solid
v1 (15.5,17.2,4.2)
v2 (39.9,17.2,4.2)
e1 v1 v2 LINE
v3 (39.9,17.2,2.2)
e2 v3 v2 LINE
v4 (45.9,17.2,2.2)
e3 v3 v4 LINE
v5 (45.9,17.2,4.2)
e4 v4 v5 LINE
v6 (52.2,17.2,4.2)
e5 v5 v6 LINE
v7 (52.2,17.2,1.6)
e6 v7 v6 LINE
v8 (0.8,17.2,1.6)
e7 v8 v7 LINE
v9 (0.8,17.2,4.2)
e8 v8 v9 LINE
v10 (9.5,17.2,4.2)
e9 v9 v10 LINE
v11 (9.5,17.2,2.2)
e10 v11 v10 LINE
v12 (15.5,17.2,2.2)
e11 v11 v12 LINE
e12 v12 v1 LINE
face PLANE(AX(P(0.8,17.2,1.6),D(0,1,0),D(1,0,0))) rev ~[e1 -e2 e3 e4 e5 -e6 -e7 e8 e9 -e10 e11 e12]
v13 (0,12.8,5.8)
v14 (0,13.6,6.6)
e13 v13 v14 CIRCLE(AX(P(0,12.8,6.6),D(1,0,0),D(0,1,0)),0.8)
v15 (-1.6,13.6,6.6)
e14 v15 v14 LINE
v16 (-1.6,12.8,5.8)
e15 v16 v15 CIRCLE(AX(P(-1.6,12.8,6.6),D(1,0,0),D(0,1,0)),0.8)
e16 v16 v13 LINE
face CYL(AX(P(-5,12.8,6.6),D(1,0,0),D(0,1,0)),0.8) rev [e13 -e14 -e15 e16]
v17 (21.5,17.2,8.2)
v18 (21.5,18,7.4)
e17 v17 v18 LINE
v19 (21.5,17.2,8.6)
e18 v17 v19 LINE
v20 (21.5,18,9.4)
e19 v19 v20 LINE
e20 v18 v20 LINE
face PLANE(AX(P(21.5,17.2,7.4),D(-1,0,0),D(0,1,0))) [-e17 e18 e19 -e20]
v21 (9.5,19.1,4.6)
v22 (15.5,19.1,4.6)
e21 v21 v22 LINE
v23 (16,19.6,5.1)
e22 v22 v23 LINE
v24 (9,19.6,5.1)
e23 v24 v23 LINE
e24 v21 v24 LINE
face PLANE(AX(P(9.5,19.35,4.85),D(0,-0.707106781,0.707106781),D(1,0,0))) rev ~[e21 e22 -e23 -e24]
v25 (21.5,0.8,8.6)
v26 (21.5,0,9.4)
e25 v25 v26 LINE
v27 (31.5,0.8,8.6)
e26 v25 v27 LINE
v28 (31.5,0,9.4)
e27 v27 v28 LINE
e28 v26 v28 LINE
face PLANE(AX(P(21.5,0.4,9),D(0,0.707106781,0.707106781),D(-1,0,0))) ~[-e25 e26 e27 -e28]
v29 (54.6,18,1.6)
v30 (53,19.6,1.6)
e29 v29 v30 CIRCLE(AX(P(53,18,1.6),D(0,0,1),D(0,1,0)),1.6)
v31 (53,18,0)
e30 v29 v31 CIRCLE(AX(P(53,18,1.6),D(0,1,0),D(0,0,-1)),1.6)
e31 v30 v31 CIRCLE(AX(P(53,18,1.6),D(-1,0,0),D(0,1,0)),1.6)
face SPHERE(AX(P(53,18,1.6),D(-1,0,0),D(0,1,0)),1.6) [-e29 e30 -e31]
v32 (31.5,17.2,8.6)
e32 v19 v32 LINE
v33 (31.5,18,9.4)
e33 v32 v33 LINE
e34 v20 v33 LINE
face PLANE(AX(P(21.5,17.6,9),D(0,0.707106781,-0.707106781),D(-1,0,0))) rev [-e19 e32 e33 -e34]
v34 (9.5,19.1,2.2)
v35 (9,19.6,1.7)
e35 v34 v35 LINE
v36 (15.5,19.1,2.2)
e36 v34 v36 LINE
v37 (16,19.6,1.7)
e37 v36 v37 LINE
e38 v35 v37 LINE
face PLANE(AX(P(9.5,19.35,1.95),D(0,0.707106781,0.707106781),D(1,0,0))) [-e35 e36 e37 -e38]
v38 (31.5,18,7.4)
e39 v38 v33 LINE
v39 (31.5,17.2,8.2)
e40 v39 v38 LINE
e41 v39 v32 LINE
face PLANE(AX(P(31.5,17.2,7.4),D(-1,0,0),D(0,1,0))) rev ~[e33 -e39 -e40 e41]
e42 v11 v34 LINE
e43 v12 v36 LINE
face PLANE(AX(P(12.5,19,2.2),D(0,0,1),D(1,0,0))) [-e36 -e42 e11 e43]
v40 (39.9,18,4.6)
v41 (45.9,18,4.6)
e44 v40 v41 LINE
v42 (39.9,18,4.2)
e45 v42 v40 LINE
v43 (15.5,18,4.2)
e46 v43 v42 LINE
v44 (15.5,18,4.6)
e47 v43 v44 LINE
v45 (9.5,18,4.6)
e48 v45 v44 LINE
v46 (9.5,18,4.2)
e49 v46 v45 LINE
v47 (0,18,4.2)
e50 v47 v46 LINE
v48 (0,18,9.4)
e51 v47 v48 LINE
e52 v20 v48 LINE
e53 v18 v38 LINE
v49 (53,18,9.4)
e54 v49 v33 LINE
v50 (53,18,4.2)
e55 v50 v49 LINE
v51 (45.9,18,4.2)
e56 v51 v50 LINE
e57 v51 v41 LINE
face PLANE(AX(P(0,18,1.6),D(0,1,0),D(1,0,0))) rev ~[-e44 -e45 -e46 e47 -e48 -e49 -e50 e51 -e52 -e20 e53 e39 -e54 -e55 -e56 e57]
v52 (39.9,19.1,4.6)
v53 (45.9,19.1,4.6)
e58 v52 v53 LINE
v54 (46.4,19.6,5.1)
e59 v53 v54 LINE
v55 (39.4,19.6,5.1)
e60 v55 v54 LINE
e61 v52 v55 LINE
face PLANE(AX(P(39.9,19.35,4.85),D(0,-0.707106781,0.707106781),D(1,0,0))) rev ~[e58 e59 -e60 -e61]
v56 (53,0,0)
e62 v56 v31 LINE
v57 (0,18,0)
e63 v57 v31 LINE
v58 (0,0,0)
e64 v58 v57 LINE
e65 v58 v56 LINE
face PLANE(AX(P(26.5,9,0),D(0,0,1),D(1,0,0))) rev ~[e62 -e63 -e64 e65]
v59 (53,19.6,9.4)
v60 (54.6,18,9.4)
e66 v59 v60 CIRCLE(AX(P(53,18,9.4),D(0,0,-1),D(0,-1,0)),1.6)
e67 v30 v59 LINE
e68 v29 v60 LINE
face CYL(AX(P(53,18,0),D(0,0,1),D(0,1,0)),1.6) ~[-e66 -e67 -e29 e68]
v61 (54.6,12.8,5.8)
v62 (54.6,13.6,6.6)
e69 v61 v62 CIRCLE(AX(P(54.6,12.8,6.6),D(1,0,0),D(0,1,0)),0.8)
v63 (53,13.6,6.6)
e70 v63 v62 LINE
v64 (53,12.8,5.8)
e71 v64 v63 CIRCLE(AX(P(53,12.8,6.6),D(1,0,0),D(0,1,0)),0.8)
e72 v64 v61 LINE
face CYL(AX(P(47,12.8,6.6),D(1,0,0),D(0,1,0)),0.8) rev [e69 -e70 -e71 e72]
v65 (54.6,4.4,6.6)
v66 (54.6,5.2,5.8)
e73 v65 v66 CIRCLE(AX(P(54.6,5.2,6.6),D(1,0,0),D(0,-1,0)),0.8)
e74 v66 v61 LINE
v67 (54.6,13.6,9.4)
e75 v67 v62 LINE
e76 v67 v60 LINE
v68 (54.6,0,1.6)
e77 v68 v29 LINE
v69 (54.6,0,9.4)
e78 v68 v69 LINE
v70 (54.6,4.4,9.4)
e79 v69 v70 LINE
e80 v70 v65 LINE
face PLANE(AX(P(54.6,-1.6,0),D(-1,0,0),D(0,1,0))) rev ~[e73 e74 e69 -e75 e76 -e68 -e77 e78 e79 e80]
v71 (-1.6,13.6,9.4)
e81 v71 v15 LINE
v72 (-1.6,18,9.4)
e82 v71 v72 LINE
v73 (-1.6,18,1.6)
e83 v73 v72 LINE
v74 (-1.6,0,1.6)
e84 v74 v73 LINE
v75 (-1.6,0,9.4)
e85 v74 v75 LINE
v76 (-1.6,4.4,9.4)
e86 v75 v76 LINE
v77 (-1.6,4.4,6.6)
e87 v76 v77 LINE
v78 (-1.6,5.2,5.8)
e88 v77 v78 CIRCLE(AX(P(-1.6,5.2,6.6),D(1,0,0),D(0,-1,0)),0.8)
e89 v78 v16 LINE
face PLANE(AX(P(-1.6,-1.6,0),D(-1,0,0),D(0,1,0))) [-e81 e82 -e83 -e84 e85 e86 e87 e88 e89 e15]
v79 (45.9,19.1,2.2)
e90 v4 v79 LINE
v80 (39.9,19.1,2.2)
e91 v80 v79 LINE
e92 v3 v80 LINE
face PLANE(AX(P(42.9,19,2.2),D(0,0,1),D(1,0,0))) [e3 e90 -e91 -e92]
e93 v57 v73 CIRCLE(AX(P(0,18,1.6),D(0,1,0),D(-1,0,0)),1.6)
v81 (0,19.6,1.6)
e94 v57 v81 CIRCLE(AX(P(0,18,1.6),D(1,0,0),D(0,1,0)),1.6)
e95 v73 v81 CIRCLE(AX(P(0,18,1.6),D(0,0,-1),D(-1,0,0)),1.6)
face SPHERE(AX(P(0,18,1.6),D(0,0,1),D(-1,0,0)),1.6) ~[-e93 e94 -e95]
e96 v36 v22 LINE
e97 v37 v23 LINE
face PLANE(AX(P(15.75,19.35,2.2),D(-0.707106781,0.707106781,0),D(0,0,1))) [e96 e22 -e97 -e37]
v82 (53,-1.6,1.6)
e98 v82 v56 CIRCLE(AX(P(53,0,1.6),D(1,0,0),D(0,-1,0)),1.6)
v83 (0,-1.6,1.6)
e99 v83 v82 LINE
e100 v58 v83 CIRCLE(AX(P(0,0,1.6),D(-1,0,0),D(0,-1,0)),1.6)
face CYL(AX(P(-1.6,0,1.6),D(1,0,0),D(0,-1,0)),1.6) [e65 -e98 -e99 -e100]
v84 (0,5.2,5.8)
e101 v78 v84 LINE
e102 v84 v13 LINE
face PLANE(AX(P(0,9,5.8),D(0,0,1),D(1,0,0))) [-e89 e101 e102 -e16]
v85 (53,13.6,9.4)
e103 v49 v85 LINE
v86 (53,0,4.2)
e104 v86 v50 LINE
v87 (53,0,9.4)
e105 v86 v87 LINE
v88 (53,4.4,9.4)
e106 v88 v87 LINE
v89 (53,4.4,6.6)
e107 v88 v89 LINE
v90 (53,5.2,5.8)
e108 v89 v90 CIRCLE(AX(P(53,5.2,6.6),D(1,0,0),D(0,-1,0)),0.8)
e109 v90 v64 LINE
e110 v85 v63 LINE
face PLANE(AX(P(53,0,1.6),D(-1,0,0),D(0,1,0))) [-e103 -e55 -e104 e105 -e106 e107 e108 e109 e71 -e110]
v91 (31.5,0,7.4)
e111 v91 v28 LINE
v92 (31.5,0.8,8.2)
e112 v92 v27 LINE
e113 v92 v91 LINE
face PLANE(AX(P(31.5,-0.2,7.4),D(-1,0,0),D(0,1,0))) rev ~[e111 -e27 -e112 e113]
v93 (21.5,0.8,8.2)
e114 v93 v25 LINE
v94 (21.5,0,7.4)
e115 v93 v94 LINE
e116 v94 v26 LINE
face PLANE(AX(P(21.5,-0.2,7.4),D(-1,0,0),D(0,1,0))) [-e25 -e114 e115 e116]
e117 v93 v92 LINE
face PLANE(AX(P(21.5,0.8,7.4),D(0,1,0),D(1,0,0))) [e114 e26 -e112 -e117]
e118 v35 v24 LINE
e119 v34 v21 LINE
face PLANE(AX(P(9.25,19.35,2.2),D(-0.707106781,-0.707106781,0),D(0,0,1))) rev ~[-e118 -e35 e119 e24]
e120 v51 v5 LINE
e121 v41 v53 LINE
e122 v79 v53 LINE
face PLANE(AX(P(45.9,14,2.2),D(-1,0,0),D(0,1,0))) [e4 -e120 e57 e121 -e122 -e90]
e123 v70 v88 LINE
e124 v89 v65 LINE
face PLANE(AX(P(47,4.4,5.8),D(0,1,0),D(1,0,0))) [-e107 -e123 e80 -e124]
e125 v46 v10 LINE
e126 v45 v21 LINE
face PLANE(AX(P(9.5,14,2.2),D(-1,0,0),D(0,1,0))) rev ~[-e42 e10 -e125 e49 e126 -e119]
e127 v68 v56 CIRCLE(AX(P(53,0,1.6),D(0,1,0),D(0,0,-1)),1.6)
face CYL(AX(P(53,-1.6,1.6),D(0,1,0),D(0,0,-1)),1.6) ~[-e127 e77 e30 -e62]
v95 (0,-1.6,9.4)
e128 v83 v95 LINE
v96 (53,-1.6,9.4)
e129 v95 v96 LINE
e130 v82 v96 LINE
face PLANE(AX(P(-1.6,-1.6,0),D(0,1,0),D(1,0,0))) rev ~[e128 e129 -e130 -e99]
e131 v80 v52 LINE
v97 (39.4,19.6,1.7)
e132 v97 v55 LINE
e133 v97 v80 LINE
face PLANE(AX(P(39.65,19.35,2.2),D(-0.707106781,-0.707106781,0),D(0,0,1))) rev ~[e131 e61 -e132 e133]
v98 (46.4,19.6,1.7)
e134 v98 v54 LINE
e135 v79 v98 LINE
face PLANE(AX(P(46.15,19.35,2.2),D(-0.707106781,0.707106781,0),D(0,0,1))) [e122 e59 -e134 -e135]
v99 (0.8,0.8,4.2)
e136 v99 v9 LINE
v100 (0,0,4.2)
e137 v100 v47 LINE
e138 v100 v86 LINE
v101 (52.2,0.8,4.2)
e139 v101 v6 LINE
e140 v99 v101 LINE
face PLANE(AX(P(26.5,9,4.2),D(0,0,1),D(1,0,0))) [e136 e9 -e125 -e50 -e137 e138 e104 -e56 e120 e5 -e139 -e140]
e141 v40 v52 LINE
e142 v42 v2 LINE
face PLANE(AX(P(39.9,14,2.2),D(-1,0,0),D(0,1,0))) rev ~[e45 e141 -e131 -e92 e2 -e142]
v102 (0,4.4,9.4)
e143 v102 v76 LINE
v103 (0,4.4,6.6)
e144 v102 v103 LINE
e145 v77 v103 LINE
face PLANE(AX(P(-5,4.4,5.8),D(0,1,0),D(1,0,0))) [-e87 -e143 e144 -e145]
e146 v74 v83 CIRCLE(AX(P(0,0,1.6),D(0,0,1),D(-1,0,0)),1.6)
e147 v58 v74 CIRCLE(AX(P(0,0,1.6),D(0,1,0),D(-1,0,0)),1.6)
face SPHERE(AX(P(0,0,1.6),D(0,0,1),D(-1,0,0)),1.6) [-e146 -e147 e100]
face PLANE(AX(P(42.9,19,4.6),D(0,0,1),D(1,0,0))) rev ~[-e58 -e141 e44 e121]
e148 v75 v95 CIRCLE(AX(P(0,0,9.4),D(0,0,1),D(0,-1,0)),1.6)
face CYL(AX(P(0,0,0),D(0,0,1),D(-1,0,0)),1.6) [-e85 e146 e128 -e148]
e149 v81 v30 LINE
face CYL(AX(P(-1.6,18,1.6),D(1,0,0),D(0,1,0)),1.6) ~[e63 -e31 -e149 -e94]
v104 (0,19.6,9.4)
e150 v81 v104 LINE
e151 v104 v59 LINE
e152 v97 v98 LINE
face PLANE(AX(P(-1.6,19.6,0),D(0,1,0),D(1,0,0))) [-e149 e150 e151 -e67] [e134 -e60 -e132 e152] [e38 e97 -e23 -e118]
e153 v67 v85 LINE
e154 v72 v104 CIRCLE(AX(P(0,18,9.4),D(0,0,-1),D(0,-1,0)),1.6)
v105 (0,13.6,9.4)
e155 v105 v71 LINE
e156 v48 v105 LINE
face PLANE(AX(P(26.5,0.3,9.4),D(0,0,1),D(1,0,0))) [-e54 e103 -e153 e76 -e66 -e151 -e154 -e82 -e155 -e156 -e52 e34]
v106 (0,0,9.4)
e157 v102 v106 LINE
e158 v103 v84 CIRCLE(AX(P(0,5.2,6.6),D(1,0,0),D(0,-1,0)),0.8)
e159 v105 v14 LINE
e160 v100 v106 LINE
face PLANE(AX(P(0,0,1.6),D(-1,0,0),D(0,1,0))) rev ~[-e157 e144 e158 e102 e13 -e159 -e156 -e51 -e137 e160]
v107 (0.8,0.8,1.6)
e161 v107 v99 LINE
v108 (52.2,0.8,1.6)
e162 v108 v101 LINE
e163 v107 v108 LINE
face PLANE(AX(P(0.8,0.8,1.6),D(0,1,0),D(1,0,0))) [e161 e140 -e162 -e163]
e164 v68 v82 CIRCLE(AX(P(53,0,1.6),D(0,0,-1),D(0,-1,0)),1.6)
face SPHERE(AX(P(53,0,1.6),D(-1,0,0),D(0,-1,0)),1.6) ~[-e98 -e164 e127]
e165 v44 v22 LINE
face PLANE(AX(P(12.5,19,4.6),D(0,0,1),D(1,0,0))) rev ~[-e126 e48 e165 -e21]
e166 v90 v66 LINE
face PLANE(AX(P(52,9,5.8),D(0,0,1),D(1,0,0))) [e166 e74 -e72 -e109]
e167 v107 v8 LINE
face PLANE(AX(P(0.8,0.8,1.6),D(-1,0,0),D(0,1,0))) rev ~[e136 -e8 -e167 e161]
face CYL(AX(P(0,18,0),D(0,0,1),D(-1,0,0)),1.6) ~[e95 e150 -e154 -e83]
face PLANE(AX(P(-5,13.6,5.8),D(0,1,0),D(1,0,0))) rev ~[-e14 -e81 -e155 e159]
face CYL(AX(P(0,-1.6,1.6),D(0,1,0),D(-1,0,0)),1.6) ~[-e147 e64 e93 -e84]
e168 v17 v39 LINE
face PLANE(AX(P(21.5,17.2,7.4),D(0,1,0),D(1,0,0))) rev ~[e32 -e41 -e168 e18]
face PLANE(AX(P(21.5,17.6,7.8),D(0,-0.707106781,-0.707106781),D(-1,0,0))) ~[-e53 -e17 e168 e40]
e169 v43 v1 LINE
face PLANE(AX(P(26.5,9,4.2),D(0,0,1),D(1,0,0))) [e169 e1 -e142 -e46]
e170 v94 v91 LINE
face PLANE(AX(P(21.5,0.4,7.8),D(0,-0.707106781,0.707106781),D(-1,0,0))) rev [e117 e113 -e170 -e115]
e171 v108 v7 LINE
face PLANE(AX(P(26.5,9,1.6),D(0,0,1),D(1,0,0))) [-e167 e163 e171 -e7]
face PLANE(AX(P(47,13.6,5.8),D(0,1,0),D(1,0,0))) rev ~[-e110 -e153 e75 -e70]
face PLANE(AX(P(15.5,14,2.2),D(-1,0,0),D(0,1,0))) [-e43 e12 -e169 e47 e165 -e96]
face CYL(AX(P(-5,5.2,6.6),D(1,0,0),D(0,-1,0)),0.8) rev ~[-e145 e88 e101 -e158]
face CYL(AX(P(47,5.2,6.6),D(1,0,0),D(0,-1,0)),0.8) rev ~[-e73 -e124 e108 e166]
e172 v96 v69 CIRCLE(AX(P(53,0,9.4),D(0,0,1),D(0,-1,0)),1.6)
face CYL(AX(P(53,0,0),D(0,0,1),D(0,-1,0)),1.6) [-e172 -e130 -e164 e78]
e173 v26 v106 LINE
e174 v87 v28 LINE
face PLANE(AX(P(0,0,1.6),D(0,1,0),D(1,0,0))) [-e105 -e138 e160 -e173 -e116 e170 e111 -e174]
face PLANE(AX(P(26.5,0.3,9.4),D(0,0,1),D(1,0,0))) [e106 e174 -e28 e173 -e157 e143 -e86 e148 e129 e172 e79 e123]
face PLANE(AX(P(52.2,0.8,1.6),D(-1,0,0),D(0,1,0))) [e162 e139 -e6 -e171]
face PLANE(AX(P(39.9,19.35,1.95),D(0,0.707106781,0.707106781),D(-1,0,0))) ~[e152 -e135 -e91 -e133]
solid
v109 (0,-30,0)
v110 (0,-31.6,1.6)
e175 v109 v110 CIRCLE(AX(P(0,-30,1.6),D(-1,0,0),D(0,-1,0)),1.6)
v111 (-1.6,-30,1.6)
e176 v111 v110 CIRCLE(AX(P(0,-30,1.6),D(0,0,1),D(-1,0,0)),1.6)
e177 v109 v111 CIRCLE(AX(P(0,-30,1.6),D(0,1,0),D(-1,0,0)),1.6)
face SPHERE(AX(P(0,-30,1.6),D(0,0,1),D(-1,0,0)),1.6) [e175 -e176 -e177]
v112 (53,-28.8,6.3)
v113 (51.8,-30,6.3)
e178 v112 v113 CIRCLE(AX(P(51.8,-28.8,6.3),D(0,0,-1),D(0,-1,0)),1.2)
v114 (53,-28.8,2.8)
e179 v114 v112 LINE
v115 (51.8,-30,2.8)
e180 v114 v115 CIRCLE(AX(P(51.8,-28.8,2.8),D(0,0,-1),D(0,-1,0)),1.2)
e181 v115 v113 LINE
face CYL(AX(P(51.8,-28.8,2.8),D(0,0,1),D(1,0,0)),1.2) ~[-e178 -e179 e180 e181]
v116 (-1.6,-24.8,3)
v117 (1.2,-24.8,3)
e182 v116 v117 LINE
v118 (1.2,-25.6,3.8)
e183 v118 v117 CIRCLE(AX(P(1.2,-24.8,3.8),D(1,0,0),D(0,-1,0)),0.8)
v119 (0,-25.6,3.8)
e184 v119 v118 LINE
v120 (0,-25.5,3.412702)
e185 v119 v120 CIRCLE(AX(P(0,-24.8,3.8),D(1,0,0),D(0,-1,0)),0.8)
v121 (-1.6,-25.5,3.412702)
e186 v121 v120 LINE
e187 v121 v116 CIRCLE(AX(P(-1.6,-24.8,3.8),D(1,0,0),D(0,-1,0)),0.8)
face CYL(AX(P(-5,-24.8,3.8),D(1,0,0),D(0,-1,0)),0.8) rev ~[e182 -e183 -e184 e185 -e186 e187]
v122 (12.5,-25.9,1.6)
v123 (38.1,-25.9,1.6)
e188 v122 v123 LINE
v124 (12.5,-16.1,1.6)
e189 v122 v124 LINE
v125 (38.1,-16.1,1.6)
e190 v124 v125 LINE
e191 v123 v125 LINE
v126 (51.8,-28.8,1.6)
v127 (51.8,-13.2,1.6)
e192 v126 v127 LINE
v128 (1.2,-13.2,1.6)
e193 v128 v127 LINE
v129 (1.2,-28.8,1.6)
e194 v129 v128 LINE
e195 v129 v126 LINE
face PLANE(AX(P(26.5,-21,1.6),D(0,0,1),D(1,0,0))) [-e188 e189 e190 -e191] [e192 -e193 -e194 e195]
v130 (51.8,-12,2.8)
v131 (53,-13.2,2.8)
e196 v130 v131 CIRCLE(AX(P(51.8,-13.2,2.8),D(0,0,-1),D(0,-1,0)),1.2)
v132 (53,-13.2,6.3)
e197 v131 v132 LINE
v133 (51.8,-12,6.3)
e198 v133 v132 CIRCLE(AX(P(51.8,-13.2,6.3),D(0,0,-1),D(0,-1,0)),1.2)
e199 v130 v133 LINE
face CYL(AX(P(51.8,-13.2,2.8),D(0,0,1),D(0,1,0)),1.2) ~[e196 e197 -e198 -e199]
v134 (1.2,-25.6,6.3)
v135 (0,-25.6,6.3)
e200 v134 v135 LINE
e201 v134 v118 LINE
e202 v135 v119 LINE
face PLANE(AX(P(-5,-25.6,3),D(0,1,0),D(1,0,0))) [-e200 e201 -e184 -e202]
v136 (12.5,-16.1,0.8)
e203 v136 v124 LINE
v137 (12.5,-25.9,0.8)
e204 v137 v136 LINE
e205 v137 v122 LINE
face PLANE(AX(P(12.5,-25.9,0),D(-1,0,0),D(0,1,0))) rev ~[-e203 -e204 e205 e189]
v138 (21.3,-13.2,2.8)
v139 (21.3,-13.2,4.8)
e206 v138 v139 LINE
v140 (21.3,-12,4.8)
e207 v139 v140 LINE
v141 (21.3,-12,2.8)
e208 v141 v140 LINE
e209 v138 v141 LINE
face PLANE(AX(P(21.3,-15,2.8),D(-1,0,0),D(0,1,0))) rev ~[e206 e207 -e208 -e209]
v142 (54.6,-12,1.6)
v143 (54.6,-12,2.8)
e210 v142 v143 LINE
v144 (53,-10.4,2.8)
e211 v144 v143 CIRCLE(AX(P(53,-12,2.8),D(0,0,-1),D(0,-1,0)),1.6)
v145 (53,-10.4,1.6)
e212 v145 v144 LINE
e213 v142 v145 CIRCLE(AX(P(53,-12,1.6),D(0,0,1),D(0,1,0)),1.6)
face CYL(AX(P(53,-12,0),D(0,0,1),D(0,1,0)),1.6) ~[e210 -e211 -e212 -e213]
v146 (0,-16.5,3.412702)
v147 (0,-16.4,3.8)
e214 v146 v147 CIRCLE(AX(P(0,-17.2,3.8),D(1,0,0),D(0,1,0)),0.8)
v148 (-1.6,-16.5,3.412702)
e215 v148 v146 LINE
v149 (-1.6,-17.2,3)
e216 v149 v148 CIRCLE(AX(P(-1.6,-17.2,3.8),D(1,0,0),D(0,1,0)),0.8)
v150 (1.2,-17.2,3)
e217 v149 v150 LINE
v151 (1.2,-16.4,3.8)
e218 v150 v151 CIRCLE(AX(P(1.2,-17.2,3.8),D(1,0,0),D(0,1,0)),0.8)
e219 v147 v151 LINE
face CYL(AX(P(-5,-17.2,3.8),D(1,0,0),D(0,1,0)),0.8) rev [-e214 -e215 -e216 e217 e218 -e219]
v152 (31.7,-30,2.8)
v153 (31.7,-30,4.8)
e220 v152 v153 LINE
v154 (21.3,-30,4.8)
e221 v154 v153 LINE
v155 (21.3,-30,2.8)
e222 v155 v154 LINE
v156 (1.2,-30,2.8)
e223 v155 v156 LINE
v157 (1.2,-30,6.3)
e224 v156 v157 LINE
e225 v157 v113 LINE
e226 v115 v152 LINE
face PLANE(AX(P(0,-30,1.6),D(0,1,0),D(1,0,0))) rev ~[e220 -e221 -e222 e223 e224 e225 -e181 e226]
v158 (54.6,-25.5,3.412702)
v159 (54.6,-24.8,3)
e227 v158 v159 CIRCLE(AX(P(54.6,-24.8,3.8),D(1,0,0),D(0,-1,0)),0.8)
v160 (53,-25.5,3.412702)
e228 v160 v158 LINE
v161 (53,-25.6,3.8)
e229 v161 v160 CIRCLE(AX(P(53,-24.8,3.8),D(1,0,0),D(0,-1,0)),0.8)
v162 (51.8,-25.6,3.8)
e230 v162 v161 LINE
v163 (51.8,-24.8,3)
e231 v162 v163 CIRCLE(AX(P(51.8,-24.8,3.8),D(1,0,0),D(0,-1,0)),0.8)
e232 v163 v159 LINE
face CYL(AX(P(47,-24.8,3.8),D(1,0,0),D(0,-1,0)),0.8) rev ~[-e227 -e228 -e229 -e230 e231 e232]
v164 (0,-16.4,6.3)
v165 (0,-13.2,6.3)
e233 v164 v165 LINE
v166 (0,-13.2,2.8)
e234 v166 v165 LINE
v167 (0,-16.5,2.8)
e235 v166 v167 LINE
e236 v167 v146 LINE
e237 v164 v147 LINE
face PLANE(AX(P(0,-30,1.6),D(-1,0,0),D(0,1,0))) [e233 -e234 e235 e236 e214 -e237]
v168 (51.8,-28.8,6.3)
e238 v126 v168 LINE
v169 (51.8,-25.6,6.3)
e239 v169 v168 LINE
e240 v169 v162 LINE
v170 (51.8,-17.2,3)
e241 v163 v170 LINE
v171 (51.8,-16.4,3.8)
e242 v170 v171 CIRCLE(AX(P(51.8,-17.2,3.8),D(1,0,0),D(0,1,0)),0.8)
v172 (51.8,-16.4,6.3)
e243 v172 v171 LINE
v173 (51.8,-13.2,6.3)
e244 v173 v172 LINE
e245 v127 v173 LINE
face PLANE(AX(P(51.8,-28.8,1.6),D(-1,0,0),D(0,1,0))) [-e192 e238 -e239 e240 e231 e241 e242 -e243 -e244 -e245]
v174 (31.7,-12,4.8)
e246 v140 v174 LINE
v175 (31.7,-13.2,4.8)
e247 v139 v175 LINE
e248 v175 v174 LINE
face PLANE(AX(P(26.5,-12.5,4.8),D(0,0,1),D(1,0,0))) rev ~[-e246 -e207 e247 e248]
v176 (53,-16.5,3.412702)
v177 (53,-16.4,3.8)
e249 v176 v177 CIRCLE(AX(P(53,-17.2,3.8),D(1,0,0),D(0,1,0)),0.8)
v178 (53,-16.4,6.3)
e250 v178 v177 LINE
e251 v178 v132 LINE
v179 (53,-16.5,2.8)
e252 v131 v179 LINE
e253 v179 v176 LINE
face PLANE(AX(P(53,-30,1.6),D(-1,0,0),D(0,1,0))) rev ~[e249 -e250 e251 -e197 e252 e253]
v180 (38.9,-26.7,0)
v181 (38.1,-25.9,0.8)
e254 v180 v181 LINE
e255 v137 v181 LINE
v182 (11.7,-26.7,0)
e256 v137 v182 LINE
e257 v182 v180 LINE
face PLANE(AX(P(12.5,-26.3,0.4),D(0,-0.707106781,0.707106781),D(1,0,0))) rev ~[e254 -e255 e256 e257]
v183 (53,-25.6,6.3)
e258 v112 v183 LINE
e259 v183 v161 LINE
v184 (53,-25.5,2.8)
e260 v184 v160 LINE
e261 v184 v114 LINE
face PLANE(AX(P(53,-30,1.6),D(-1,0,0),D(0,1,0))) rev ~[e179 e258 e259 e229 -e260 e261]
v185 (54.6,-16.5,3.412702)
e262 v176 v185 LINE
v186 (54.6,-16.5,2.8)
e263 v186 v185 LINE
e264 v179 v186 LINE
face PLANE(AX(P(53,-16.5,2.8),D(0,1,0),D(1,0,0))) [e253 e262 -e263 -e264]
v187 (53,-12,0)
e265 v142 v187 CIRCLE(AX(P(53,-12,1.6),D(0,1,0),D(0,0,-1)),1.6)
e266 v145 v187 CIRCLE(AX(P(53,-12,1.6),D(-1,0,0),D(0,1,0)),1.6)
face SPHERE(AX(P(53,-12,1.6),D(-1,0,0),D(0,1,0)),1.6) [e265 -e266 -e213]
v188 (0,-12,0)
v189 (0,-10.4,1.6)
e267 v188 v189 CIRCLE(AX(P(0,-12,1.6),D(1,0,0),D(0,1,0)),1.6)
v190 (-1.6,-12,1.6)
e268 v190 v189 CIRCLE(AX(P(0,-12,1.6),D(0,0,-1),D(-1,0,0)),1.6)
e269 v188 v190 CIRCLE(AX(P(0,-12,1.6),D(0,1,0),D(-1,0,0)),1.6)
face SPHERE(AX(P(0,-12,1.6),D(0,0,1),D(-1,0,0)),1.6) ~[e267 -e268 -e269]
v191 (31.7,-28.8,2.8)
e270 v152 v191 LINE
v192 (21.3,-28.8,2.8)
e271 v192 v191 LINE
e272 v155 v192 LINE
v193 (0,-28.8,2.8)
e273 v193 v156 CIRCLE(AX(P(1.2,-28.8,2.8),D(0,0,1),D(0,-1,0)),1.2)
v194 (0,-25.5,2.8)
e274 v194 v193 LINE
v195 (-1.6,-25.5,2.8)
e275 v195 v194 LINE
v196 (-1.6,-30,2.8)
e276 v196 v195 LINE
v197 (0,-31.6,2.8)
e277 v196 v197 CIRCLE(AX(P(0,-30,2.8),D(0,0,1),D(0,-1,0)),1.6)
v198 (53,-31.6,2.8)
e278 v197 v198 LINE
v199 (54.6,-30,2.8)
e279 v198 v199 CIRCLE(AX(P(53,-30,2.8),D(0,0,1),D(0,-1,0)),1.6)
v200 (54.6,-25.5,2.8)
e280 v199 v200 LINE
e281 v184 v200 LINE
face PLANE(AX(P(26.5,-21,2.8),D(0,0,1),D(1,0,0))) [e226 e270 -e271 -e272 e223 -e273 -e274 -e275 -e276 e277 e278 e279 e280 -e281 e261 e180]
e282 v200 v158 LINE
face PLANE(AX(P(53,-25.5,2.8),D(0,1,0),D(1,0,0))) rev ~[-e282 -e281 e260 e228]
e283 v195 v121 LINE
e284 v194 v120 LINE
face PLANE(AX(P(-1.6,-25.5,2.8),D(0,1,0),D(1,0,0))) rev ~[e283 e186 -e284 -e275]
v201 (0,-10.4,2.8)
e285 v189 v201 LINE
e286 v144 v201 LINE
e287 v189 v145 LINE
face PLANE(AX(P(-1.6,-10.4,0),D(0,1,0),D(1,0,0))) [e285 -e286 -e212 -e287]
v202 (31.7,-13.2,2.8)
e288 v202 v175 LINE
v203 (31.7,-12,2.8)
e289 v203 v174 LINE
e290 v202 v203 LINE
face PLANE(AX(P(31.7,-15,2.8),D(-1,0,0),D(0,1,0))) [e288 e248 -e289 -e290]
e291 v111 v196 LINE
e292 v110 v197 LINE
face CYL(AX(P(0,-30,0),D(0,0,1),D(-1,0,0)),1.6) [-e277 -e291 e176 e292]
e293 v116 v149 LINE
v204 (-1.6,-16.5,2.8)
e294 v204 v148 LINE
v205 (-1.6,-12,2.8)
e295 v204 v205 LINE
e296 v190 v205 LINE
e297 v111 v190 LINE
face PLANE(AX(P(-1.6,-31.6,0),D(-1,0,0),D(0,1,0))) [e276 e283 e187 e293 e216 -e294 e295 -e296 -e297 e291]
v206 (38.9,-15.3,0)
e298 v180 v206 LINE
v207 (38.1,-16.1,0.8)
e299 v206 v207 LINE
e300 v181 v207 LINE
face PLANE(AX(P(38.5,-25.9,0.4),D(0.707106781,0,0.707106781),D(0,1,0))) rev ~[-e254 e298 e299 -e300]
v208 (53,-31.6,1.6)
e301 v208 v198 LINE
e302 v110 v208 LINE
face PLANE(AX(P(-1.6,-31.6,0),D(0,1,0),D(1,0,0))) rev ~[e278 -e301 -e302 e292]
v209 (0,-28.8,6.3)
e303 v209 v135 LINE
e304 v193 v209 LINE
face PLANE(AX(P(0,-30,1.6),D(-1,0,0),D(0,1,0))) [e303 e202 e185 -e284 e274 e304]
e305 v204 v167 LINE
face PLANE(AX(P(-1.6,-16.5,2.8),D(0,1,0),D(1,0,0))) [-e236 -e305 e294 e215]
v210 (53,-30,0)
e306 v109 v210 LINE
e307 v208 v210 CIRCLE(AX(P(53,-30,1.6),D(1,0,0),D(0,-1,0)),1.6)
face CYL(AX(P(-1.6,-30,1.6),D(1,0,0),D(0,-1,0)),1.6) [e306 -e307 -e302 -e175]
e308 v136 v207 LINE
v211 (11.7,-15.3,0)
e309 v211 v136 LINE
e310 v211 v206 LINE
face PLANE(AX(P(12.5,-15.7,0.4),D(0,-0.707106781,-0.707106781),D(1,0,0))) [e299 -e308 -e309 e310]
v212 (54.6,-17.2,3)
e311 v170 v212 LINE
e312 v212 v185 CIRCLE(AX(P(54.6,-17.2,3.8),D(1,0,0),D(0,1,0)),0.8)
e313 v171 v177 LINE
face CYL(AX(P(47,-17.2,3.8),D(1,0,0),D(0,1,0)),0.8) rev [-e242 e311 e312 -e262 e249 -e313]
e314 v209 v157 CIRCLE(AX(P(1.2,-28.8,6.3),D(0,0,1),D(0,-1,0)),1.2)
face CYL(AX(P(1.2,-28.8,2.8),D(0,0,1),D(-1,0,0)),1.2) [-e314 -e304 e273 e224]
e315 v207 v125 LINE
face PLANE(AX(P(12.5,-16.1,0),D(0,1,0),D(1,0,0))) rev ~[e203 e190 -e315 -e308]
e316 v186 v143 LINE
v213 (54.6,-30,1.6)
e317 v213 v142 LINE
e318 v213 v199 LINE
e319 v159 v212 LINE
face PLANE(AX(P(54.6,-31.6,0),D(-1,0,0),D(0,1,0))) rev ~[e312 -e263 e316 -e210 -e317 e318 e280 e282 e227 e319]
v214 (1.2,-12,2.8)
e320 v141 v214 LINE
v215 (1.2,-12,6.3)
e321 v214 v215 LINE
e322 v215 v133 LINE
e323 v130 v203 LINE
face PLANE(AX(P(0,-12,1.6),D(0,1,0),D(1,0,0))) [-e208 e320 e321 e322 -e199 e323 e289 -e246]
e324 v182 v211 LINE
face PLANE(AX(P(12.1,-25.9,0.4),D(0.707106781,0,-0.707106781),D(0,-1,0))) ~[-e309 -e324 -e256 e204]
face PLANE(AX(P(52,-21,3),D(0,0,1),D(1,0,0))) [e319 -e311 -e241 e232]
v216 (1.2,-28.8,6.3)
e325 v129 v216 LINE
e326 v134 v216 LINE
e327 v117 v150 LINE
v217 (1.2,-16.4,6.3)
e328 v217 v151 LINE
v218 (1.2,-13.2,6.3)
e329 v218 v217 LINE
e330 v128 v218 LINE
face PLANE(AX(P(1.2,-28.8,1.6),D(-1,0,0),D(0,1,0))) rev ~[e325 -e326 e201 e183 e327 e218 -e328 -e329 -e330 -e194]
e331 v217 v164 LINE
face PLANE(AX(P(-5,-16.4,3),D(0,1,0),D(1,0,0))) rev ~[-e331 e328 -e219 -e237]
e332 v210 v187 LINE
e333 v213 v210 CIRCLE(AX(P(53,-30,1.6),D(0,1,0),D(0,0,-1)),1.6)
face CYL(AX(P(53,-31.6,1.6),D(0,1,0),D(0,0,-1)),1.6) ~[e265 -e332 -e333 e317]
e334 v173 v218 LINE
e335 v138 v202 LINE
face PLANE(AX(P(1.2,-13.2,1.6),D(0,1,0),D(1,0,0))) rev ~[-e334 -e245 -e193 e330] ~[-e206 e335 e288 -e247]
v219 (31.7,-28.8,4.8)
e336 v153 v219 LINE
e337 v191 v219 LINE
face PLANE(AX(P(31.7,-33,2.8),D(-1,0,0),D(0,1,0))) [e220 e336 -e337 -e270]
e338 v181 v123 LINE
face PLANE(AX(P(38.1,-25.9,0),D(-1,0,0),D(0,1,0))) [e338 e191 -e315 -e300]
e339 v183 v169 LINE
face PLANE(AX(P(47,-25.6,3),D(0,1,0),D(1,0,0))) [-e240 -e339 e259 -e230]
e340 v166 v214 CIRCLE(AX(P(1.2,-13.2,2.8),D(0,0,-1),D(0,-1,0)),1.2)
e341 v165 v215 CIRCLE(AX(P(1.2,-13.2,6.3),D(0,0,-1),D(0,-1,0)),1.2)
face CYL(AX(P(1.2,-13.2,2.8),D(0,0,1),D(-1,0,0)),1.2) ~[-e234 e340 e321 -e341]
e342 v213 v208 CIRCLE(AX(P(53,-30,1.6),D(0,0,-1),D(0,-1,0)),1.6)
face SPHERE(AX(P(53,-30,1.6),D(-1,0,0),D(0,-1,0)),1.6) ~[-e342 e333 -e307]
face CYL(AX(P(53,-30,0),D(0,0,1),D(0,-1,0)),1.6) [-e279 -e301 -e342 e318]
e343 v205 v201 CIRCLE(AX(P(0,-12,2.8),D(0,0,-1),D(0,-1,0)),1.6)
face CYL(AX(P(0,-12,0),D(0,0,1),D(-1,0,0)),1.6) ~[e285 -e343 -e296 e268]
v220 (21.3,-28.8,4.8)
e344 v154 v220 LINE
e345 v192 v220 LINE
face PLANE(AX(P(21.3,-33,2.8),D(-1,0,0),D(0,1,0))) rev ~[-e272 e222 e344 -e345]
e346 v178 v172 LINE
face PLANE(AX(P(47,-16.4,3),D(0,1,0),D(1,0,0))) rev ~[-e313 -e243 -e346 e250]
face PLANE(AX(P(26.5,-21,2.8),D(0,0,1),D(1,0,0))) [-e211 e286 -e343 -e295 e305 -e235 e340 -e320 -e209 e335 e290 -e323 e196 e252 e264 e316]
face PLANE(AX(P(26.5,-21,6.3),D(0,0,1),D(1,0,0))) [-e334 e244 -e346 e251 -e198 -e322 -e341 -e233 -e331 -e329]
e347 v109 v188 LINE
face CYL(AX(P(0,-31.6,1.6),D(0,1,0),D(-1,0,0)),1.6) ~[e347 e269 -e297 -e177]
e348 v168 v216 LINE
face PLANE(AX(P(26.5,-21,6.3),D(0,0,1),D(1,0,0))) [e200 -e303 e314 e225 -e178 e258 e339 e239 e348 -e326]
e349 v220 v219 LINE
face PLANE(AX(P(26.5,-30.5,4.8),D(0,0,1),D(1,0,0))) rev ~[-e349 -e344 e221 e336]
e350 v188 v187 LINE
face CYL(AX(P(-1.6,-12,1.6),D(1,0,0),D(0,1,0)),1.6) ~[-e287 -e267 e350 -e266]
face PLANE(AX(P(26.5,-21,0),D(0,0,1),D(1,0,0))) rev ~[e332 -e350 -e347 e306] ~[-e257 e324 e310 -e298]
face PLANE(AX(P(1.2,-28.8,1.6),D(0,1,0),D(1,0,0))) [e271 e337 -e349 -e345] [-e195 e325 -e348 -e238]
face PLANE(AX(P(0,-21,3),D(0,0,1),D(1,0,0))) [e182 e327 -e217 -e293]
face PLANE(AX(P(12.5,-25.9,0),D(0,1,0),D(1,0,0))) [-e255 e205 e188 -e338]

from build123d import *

# Parameters (mm, degrees)
BOX009_W        = 6
BOX009_H        = 10
BOX009_DEPTH    = 2.4
BOX006_W        = 10
BOX006_H        = 9.2
BOX006_DEPTH    = 4
FILLET002_R     = 0.8
BOX019_W        = 10
BOX019_H        = 9.2
BOX019_DEPTH    = 4.6
FILLET003_R     = 0.8
BOX008_W        = 6
BOX008_H        = 10
BOX008_DEPTH    = 2.4
BOX003_W        = 51.4
BOX003_H        = 16.4
BOX003_DEPTH    = 2.6
BOX002_W        = 53
BOX002_H        = 18
BOX002_DEPTH    = 2.6
BOX004_W        = 10
BOX004_H        = 1
BOX004_DEPTH    = 2
CHAMFER_SIZE    = 0.8
BOX005_W        = 10
BOX005_H        = 1
BOX005_DEPTH    = 2
CHAMFER001_SIZE = 0.8
BOX001_W        = 53
BOX001_H        = 18
BOX001_DEPTH    = 9.4
BOX_W           = 56.2
BOX_H           = 21.2
BOX_DEPTH       = 9.4
FILLET_R        = 1.6
CHAMFER002_SIZE = 0.5
BOX017_W        = 10.4
BOX017_H        = 5
BOX017_DEPTH    = 2
BOX018_W        = 10.4
BOX018_H        = 5
BOX018_DEPTH    = 2
BOX020_W        = 10
BOX020_H        = 9.2
BOX020_DEPTH    = 4.6
FILLET004_R     = 0.8
BOX021_W        = 10
BOX021_H        = 9.2
BOX021_DEPTH    = 4.6
FILLET005_R     = 0.8
BOX014_W        = 25.6
BOX014_H        = 9.8
BOX014_DEPTH    = 1.6
BOX013_W        = 50.6
BOX013_H        = 15.6
BOX013_DEPTH    = 4.8
BOX012_W        = 53
BOX012_H        = 18
BOX012_DEPTH    = 4.7
BOX022_W        = 1.6
BOX022_H        = 9
BOX022_DEPTH    = 3
BOX023_W        = 1.6
BOX023_H        = 9
BOX023_DEPTH    = 3
BOX011_W        = 53
BOX011_H        = 18
BOX011_DEPTH    = 9.4
BOX010_W        = 56.2
BOX010_H        = 21.2
BOX010_DEPTH    = 2.8
FILLET001_R     = 1.6
CHAMFER003_SIZE = 0.8
FILLET006_R     = 1.2


with BuildPart() as button2:
    # Box009 → Box009 (new body)
    with BuildSketch(Plane(origin=(39.9, 14, 2.2), x_dir=(1, 0, 0), z_dir=(0, 0, 1))):
        with Locations((3, 5)):
            Rectangle(BOX009_W, BOX009_H)
    extrude(amount=BOX009_DEPTH)


with BuildPart() as usb_buchse1:
    # Box006 → Box006 (new body)
    with BuildSketch(Plane(origin=(-5, 4.4, 5.8), x_dir=(1, 0, 0), z_dir=(0, 0, 1))):
        with Locations((5, 4.6)):
            Rectangle(BOX006_W, BOX006_H)
    extrude(amount=BOX006_DEPTH)

    # Fillet002
    fillet002_edges = [usb_buchse1.edges().sort_by_distance(p)[0] for p in [
        (0, 4.4, 5.8),
        (0, 13.6, 5.8),
    ]]
    fillet(fillet002_edges, radius=FILLET002_R)


with BuildPart() as usb_buchse2:
    # Box019 → Box019 (new body)
    with BuildSketch(Plane(origin=(47, 4.4, 5.8), x_dir=(1, 0, 0), z_dir=(0, 0, 1))):
        with Locations((5, 4.6)):
            Rectangle(BOX019_W, BOX019_H)
    extrude(amount=BOX019_DEPTH)

    # Fillet003
    fillet003_edges = [usb_buchse2.edges().sort_by_distance(p)[0] for p in [
        (52, 4.4, 5.8),
        (52, 13.6, 5.8),
    ]]
    fillet(fillet003_edges, radius=FILLET003_R)


with BuildPart() as bottom_cutouts:
    # Box008 → Box008 (new body)
    with BuildSketch(Plane(origin=(9.5, 14, 2.2), x_dir=(1, 0, 0), z_dir=(0, 0, 1))):
        with Locations((3, 5)):
            Rectangle(BOX008_W, BOX008_H)
    extrude(amount=BOX008_DEPTH)

    # Fusion001: union Button2, USB_Buchse1, USB_Buchse2
    add(button2.part)
    add(usb_buchse1.part)
    add(usb_buchse2.part)


with BuildPart() as auflage_innen:
    # Box003 → Box003 (new body)
    with BuildSketch(Plane(origin=(0.8, 0.8, 1.6), x_dir=(1, 0, 0), z_dir=(0, 0, 1))):
        with Locations((25.7, 8.2)):
            Rectangle(BOX003_W, BOX003_H)
    extrude(amount=BOX003_DEPTH)


with BuildPart() as auflage:
    # Box002 → Box002 (new body)
    with BuildSketch(Plane.XY.offset(1.6)):
        with Locations((26.5, 9)):
            Rectangle(BOX002_W, BOX002_H)
    extrude(amount=BOX002_DEPTH)

    # Cut001: cut Auflage_innen
    add(auflage_innen.part, mode=Mode.SUBTRACT)


with BuildPart() as haken1:
    # Box004 → Box004 (new body)
    with BuildSketch(Plane(origin=(21.5, -0.2, 7.4), x_dir=(1, 0, 0), z_dir=(0, 0, 1))):
        with Locations((5, 0.5)):
            Rectangle(BOX004_W, BOX004_H)
    extrude(amount=BOX004_DEPTH)

    # Chamfer
    chamfer_edges = [haken1.edges().sort_by_distance(p)[0] for p in [
        (26.5, 0.8, 7.4),
        (26.5, 0.8, 9.4),
    ]]
    chamfer(chamfer_edges, length=CHAMFER_SIZE)


with BuildPart() as haken2:
    # Box005 → Box005 (new body)
    with BuildSketch(Plane(origin=(21.5, 17.2, 7.4), x_dir=(1, 0, 0), z_dir=(0, 0, 1))):
        with Locations((5, 0.5)):
            Rectangle(BOX005_W, BOX005_H)
    extrude(amount=BOX005_DEPTH)

    # Chamfer001
    chamfer001_edges = [haken2.edges().sort_by_distance(p)[0] for p in [
        (26.5, 17.2, 7.4),
        (26.5, 17.2, 9.4),
    ]]
    chamfer(chamfer001_edges, length=CHAMFER001_SIZE)


with BuildPart() as unten_innen:
    # Box001 → Box001 (new body)
    with BuildSketch(Plane.XY.offset(1.6)):
        with Locations((26.5, 9)):
            Rectangle(BOX001_W, BOX001_H)
    extrude(amount=BOX001_DEPTH)


with BuildPart() as cover_bottom:
    # Box → Box (new body)
    with BuildSketch(Plane(origin=(-1.6, -1.6, 0), x_dir=(1, 0, 0), z_dir=(0, 0, 1))):
        with Locations((28.1, 10.6)):
            Rectangle(BOX_W, BOX_H)
    extrude(amount=BOX_DEPTH)

    # Cut: cut unten_innen
    add(unten_innen.part, mode=Mode.SUBTRACT)

    # Fillet
    fillet_edges = [cover_bottom.edges().sort_by_distance(p)[0] for p in [
        (-1.6, -1.6, 4.7),
        (-1.6, 19.6, 4.7),
        (-1.6, 9, 0),
        (26.5, -1.6, 0),
        (54.6, -1.6, 4.7),
        (26.5, 19.6, 0),
        (54.6, 19.6, 4.7),
        (54.6, 9, 0),
    ]]
    fillet(fillet_edges, radius=FILLET_R)

    # Fusion: union Auflage, Haken1, Haken2
    add(auflage.part)
    add(haken1.part)
    add(haken2.part)

    # Cut004: cut bottom_cutouts
    add(bottom_cutouts.part, mode=Mode.SUBTRACT)

    # Chamfer002
    chamfer002_edges = [cover_bottom.edges().sort_by_distance(p)[0] for p in [
        (45.9, 19.6, 3.4),
        (42.9, 19.6, 2.2),
        (39.9, 19.6, 3.4),
        (42.9, 19.6, 4.6),
        (9.5, 19.6, 3.4),
        (12.5, 19.6, 4.6),
        (15.5, 19.6, 3.4),
        (12.5, 19.6, 2.2),
    ]]
    chamfer(chamfer002_edges, length=CHAMFER002_SIZE)


with BuildPart() as oese1:
    # Box017 → Box017 (new body)
    with BuildSketch(Plane(origin=(21.3, -33, 2.8), x_dir=(1, 0, 0), z_dir=(0, 0, 1))):
        with Locations((5.2, 2.5)):
            Rectangle(BOX017_W, BOX017_H)
    extrude(amount=BOX017_DEPTH)


with BuildPart() as oese2:
    # Box018 → Box018 (new body)
    with BuildSketch(Plane(origin=(21.3, -15, 2.8), x_dir=(1, 0, 0), z_dir=(0, 0, 1))):
        with Locations((5.2, 2.5)):
            Rectangle(BOX018_W, BOX018_H)
    extrude(amount=BOX018_DEPTH)


with BuildPart() as usb_buchse3:
    # Box020 → Box020 (new body)
    with BuildSketch(Plane(origin=(-5, -25.6, 3), x_dir=(1, 0, 0), z_dir=(0, 0, 1))):
        with Locations((5, 4.6)):
            Rectangle(BOX020_W, BOX020_H)
    extrude(amount=BOX020_DEPTH)

    # Fillet004
    fillet004_edges = [usb_buchse3.edges().sort_by_distance(p)[0] for p in [
        (0, -25.6, 3),
        (0, -16.4, 3),
    ]]
    fillet(fillet004_edges, radius=FILLET004_R)


with BuildPart() as usb_buchse4:
    # Box021 → Box021 (new body)
    with BuildSketch(Plane(origin=(47, -25.6, 3), x_dir=(1, 0, 0), z_dir=(0, 0, 1))):
        with Locations((5, 4.6)):
            Rectangle(BOX021_W, BOX021_H)
    extrude(amount=BOX021_DEPTH)

    # Fillet005
    fillet005_edges = [usb_buchse4.edges().sort_by_distance(p)[0] for p in [
        (52, -25.6, 3),
        (52, -16.4, 3),
    ]]
    fillet(fillet005_edges, radius=FILLET005_R)


with BuildPart() as top_cutouts:
    # Box014 → Box014 (new body)
    with BuildSketch(Plane(origin=(12.5, -25.9, 0), x_dir=(1, 0, 0), z_dir=(0, 0, 1))):
        with Locations((12.8, 4.9)):
            Rectangle(BOX014_W, BOX014_H)
    extrude(amount=BOX014_DEPTH)

    # Fusion003: union Oese1, Oese2, USB-Buchse3, USB-Buchse4
    add(oese1.part)
    add(oese2.part)
    add(usb_buchse3.part)
    add(usb_buchse4.part)


with BuildPart() as rahmen_innen:
    # Box013 → Box013 (new body)
    with BuildSketch(Plane(origin=(1.2, -28.8, 1.6), x_dir=(1, 0, 0), z_dir=(0, 0, 1))):
        with Locations((25.3, 7.8)):
            Rectangle(BOX013_W, BOX013_H)
    extrude(amount=BOX013_DEPTH)


with BuildPart() as rahmen:
    # Box012 → Box012 (new body)
    with BuildSketch(Plane(origin=(0, -30, 1.6), x_dir=(1, 0, 0), z_dir=(0, 0, 1))):
        with Locations((26.5, 9)):
            Rectangle(BOX012_W, BOX012_H)
    extrude(amount=BOX012_DEPTH)

    # Cut003: cut Rahmen_innen
    add(rahmen_innen.part, mode=Mode.SUBTRACT)


with BuildPart() as nut1:
    # Box022 → Box022 (new body)
    with BuildSketch(Plane(origin=(-1.6, -25.5, 2.8), x_dir=(1, 0, 0), z_dir=(0, 0, 1))):
        with Locations((0.8, 4.5)):
            Rectangle(BOX022_W, BOX022_H)
    extrude(amount=BOX022_DEPTH)


with BuildPart() as nut2:
    # Box023 → Box023 (new body)
    with BuildSketch(Plane(origin=(53, -25.5, 2.8), x_dir=(1, 0, 0), z_dir=(0, 0, 1))):
        with Locations((0.8, 4.5)):
            Rectangle(BOX023_W, BOX023_H)
    extrude(amount=BOX023_DEPTH)


with BuildPart() as oben_innen:
    # Box011 → Box011 (new body)
    with BuildSketch(Plane(origin=(0, -30, 1.6), x_dir=(1, 0, 0), z_dir=(0, 0, 1))):
        with Locations((26.5, 9)):
            Rectangle(BOX011_W, BOX011_H)
    extrude(amount=BOX011_DEPTH)


with BuildPart() as cover_top:
    # Box010 → Box010 (new body)
    with BuildSketch(Plane(origin=(-1.6, -31.6, 0), x_dir=(1, 0, 0), z_dir=(0, 0, 1))):
        with Locations((28.1, 10.6)):
            Rectangle(BOX010_W, BOX010_H)
    extrude(amount=BOX010_DEPTH)

    # Cut002: cut oben_innen
    add(oben_innen.part, mode=Mode.SUBTRACT)

    # Fillet001
    fillet001_edges = [cover_top.edges().sort_by_distance(p)[0] for p in [
        (-1.6, -31.6, 1.4),
        (-1.6, -10.4, 1.4),
        (-1.6, -21, 0),
        (26.5, -31.6, 0),
        (54.6, -31.6, 1.4),
        (26.5, -10.4, 0),
        (54.6, -10.4, 1.4),
        (54.6, -21, 0),
    ]]
    fillet(fillet001_edges, radius=FILLET001_R)

    # Fusion002: union Rahmen, Nut1, Nut2
    add(rahmen.part)
    add(nut1.part)
    add(nut2.part)

    # Cut005: cut top_cutouts
    add(top_cutouts.part, mode=Mode.SUBTRACT)

    # Chamfer003
    chamfer003_edges = [cover_top.edges().sort_by_distance(p)[0] for p in [
        (25.3, -16.1, 0),
        (12.5, -21, 0),
        (25.3, -25.9, 0),
        (38.1, -21, 0),
    ]]
    chamfer(chamfer003_edges, length=CHAMFER003_SIZE)

    # Fillet006
    fillet006_edges = [cover_top.edges().sort_by_distance(p)[0] for p in [
        (0, -30, 4.55),
        (53, -30, 4.55),
        (53, -12, 4.55),
        (0, -12, 4.55),
    ]]
    fillet(fillet006_edges, radius=FILLET006_R)


solid = Compound([cover_bottom.part, cover_top.part])
